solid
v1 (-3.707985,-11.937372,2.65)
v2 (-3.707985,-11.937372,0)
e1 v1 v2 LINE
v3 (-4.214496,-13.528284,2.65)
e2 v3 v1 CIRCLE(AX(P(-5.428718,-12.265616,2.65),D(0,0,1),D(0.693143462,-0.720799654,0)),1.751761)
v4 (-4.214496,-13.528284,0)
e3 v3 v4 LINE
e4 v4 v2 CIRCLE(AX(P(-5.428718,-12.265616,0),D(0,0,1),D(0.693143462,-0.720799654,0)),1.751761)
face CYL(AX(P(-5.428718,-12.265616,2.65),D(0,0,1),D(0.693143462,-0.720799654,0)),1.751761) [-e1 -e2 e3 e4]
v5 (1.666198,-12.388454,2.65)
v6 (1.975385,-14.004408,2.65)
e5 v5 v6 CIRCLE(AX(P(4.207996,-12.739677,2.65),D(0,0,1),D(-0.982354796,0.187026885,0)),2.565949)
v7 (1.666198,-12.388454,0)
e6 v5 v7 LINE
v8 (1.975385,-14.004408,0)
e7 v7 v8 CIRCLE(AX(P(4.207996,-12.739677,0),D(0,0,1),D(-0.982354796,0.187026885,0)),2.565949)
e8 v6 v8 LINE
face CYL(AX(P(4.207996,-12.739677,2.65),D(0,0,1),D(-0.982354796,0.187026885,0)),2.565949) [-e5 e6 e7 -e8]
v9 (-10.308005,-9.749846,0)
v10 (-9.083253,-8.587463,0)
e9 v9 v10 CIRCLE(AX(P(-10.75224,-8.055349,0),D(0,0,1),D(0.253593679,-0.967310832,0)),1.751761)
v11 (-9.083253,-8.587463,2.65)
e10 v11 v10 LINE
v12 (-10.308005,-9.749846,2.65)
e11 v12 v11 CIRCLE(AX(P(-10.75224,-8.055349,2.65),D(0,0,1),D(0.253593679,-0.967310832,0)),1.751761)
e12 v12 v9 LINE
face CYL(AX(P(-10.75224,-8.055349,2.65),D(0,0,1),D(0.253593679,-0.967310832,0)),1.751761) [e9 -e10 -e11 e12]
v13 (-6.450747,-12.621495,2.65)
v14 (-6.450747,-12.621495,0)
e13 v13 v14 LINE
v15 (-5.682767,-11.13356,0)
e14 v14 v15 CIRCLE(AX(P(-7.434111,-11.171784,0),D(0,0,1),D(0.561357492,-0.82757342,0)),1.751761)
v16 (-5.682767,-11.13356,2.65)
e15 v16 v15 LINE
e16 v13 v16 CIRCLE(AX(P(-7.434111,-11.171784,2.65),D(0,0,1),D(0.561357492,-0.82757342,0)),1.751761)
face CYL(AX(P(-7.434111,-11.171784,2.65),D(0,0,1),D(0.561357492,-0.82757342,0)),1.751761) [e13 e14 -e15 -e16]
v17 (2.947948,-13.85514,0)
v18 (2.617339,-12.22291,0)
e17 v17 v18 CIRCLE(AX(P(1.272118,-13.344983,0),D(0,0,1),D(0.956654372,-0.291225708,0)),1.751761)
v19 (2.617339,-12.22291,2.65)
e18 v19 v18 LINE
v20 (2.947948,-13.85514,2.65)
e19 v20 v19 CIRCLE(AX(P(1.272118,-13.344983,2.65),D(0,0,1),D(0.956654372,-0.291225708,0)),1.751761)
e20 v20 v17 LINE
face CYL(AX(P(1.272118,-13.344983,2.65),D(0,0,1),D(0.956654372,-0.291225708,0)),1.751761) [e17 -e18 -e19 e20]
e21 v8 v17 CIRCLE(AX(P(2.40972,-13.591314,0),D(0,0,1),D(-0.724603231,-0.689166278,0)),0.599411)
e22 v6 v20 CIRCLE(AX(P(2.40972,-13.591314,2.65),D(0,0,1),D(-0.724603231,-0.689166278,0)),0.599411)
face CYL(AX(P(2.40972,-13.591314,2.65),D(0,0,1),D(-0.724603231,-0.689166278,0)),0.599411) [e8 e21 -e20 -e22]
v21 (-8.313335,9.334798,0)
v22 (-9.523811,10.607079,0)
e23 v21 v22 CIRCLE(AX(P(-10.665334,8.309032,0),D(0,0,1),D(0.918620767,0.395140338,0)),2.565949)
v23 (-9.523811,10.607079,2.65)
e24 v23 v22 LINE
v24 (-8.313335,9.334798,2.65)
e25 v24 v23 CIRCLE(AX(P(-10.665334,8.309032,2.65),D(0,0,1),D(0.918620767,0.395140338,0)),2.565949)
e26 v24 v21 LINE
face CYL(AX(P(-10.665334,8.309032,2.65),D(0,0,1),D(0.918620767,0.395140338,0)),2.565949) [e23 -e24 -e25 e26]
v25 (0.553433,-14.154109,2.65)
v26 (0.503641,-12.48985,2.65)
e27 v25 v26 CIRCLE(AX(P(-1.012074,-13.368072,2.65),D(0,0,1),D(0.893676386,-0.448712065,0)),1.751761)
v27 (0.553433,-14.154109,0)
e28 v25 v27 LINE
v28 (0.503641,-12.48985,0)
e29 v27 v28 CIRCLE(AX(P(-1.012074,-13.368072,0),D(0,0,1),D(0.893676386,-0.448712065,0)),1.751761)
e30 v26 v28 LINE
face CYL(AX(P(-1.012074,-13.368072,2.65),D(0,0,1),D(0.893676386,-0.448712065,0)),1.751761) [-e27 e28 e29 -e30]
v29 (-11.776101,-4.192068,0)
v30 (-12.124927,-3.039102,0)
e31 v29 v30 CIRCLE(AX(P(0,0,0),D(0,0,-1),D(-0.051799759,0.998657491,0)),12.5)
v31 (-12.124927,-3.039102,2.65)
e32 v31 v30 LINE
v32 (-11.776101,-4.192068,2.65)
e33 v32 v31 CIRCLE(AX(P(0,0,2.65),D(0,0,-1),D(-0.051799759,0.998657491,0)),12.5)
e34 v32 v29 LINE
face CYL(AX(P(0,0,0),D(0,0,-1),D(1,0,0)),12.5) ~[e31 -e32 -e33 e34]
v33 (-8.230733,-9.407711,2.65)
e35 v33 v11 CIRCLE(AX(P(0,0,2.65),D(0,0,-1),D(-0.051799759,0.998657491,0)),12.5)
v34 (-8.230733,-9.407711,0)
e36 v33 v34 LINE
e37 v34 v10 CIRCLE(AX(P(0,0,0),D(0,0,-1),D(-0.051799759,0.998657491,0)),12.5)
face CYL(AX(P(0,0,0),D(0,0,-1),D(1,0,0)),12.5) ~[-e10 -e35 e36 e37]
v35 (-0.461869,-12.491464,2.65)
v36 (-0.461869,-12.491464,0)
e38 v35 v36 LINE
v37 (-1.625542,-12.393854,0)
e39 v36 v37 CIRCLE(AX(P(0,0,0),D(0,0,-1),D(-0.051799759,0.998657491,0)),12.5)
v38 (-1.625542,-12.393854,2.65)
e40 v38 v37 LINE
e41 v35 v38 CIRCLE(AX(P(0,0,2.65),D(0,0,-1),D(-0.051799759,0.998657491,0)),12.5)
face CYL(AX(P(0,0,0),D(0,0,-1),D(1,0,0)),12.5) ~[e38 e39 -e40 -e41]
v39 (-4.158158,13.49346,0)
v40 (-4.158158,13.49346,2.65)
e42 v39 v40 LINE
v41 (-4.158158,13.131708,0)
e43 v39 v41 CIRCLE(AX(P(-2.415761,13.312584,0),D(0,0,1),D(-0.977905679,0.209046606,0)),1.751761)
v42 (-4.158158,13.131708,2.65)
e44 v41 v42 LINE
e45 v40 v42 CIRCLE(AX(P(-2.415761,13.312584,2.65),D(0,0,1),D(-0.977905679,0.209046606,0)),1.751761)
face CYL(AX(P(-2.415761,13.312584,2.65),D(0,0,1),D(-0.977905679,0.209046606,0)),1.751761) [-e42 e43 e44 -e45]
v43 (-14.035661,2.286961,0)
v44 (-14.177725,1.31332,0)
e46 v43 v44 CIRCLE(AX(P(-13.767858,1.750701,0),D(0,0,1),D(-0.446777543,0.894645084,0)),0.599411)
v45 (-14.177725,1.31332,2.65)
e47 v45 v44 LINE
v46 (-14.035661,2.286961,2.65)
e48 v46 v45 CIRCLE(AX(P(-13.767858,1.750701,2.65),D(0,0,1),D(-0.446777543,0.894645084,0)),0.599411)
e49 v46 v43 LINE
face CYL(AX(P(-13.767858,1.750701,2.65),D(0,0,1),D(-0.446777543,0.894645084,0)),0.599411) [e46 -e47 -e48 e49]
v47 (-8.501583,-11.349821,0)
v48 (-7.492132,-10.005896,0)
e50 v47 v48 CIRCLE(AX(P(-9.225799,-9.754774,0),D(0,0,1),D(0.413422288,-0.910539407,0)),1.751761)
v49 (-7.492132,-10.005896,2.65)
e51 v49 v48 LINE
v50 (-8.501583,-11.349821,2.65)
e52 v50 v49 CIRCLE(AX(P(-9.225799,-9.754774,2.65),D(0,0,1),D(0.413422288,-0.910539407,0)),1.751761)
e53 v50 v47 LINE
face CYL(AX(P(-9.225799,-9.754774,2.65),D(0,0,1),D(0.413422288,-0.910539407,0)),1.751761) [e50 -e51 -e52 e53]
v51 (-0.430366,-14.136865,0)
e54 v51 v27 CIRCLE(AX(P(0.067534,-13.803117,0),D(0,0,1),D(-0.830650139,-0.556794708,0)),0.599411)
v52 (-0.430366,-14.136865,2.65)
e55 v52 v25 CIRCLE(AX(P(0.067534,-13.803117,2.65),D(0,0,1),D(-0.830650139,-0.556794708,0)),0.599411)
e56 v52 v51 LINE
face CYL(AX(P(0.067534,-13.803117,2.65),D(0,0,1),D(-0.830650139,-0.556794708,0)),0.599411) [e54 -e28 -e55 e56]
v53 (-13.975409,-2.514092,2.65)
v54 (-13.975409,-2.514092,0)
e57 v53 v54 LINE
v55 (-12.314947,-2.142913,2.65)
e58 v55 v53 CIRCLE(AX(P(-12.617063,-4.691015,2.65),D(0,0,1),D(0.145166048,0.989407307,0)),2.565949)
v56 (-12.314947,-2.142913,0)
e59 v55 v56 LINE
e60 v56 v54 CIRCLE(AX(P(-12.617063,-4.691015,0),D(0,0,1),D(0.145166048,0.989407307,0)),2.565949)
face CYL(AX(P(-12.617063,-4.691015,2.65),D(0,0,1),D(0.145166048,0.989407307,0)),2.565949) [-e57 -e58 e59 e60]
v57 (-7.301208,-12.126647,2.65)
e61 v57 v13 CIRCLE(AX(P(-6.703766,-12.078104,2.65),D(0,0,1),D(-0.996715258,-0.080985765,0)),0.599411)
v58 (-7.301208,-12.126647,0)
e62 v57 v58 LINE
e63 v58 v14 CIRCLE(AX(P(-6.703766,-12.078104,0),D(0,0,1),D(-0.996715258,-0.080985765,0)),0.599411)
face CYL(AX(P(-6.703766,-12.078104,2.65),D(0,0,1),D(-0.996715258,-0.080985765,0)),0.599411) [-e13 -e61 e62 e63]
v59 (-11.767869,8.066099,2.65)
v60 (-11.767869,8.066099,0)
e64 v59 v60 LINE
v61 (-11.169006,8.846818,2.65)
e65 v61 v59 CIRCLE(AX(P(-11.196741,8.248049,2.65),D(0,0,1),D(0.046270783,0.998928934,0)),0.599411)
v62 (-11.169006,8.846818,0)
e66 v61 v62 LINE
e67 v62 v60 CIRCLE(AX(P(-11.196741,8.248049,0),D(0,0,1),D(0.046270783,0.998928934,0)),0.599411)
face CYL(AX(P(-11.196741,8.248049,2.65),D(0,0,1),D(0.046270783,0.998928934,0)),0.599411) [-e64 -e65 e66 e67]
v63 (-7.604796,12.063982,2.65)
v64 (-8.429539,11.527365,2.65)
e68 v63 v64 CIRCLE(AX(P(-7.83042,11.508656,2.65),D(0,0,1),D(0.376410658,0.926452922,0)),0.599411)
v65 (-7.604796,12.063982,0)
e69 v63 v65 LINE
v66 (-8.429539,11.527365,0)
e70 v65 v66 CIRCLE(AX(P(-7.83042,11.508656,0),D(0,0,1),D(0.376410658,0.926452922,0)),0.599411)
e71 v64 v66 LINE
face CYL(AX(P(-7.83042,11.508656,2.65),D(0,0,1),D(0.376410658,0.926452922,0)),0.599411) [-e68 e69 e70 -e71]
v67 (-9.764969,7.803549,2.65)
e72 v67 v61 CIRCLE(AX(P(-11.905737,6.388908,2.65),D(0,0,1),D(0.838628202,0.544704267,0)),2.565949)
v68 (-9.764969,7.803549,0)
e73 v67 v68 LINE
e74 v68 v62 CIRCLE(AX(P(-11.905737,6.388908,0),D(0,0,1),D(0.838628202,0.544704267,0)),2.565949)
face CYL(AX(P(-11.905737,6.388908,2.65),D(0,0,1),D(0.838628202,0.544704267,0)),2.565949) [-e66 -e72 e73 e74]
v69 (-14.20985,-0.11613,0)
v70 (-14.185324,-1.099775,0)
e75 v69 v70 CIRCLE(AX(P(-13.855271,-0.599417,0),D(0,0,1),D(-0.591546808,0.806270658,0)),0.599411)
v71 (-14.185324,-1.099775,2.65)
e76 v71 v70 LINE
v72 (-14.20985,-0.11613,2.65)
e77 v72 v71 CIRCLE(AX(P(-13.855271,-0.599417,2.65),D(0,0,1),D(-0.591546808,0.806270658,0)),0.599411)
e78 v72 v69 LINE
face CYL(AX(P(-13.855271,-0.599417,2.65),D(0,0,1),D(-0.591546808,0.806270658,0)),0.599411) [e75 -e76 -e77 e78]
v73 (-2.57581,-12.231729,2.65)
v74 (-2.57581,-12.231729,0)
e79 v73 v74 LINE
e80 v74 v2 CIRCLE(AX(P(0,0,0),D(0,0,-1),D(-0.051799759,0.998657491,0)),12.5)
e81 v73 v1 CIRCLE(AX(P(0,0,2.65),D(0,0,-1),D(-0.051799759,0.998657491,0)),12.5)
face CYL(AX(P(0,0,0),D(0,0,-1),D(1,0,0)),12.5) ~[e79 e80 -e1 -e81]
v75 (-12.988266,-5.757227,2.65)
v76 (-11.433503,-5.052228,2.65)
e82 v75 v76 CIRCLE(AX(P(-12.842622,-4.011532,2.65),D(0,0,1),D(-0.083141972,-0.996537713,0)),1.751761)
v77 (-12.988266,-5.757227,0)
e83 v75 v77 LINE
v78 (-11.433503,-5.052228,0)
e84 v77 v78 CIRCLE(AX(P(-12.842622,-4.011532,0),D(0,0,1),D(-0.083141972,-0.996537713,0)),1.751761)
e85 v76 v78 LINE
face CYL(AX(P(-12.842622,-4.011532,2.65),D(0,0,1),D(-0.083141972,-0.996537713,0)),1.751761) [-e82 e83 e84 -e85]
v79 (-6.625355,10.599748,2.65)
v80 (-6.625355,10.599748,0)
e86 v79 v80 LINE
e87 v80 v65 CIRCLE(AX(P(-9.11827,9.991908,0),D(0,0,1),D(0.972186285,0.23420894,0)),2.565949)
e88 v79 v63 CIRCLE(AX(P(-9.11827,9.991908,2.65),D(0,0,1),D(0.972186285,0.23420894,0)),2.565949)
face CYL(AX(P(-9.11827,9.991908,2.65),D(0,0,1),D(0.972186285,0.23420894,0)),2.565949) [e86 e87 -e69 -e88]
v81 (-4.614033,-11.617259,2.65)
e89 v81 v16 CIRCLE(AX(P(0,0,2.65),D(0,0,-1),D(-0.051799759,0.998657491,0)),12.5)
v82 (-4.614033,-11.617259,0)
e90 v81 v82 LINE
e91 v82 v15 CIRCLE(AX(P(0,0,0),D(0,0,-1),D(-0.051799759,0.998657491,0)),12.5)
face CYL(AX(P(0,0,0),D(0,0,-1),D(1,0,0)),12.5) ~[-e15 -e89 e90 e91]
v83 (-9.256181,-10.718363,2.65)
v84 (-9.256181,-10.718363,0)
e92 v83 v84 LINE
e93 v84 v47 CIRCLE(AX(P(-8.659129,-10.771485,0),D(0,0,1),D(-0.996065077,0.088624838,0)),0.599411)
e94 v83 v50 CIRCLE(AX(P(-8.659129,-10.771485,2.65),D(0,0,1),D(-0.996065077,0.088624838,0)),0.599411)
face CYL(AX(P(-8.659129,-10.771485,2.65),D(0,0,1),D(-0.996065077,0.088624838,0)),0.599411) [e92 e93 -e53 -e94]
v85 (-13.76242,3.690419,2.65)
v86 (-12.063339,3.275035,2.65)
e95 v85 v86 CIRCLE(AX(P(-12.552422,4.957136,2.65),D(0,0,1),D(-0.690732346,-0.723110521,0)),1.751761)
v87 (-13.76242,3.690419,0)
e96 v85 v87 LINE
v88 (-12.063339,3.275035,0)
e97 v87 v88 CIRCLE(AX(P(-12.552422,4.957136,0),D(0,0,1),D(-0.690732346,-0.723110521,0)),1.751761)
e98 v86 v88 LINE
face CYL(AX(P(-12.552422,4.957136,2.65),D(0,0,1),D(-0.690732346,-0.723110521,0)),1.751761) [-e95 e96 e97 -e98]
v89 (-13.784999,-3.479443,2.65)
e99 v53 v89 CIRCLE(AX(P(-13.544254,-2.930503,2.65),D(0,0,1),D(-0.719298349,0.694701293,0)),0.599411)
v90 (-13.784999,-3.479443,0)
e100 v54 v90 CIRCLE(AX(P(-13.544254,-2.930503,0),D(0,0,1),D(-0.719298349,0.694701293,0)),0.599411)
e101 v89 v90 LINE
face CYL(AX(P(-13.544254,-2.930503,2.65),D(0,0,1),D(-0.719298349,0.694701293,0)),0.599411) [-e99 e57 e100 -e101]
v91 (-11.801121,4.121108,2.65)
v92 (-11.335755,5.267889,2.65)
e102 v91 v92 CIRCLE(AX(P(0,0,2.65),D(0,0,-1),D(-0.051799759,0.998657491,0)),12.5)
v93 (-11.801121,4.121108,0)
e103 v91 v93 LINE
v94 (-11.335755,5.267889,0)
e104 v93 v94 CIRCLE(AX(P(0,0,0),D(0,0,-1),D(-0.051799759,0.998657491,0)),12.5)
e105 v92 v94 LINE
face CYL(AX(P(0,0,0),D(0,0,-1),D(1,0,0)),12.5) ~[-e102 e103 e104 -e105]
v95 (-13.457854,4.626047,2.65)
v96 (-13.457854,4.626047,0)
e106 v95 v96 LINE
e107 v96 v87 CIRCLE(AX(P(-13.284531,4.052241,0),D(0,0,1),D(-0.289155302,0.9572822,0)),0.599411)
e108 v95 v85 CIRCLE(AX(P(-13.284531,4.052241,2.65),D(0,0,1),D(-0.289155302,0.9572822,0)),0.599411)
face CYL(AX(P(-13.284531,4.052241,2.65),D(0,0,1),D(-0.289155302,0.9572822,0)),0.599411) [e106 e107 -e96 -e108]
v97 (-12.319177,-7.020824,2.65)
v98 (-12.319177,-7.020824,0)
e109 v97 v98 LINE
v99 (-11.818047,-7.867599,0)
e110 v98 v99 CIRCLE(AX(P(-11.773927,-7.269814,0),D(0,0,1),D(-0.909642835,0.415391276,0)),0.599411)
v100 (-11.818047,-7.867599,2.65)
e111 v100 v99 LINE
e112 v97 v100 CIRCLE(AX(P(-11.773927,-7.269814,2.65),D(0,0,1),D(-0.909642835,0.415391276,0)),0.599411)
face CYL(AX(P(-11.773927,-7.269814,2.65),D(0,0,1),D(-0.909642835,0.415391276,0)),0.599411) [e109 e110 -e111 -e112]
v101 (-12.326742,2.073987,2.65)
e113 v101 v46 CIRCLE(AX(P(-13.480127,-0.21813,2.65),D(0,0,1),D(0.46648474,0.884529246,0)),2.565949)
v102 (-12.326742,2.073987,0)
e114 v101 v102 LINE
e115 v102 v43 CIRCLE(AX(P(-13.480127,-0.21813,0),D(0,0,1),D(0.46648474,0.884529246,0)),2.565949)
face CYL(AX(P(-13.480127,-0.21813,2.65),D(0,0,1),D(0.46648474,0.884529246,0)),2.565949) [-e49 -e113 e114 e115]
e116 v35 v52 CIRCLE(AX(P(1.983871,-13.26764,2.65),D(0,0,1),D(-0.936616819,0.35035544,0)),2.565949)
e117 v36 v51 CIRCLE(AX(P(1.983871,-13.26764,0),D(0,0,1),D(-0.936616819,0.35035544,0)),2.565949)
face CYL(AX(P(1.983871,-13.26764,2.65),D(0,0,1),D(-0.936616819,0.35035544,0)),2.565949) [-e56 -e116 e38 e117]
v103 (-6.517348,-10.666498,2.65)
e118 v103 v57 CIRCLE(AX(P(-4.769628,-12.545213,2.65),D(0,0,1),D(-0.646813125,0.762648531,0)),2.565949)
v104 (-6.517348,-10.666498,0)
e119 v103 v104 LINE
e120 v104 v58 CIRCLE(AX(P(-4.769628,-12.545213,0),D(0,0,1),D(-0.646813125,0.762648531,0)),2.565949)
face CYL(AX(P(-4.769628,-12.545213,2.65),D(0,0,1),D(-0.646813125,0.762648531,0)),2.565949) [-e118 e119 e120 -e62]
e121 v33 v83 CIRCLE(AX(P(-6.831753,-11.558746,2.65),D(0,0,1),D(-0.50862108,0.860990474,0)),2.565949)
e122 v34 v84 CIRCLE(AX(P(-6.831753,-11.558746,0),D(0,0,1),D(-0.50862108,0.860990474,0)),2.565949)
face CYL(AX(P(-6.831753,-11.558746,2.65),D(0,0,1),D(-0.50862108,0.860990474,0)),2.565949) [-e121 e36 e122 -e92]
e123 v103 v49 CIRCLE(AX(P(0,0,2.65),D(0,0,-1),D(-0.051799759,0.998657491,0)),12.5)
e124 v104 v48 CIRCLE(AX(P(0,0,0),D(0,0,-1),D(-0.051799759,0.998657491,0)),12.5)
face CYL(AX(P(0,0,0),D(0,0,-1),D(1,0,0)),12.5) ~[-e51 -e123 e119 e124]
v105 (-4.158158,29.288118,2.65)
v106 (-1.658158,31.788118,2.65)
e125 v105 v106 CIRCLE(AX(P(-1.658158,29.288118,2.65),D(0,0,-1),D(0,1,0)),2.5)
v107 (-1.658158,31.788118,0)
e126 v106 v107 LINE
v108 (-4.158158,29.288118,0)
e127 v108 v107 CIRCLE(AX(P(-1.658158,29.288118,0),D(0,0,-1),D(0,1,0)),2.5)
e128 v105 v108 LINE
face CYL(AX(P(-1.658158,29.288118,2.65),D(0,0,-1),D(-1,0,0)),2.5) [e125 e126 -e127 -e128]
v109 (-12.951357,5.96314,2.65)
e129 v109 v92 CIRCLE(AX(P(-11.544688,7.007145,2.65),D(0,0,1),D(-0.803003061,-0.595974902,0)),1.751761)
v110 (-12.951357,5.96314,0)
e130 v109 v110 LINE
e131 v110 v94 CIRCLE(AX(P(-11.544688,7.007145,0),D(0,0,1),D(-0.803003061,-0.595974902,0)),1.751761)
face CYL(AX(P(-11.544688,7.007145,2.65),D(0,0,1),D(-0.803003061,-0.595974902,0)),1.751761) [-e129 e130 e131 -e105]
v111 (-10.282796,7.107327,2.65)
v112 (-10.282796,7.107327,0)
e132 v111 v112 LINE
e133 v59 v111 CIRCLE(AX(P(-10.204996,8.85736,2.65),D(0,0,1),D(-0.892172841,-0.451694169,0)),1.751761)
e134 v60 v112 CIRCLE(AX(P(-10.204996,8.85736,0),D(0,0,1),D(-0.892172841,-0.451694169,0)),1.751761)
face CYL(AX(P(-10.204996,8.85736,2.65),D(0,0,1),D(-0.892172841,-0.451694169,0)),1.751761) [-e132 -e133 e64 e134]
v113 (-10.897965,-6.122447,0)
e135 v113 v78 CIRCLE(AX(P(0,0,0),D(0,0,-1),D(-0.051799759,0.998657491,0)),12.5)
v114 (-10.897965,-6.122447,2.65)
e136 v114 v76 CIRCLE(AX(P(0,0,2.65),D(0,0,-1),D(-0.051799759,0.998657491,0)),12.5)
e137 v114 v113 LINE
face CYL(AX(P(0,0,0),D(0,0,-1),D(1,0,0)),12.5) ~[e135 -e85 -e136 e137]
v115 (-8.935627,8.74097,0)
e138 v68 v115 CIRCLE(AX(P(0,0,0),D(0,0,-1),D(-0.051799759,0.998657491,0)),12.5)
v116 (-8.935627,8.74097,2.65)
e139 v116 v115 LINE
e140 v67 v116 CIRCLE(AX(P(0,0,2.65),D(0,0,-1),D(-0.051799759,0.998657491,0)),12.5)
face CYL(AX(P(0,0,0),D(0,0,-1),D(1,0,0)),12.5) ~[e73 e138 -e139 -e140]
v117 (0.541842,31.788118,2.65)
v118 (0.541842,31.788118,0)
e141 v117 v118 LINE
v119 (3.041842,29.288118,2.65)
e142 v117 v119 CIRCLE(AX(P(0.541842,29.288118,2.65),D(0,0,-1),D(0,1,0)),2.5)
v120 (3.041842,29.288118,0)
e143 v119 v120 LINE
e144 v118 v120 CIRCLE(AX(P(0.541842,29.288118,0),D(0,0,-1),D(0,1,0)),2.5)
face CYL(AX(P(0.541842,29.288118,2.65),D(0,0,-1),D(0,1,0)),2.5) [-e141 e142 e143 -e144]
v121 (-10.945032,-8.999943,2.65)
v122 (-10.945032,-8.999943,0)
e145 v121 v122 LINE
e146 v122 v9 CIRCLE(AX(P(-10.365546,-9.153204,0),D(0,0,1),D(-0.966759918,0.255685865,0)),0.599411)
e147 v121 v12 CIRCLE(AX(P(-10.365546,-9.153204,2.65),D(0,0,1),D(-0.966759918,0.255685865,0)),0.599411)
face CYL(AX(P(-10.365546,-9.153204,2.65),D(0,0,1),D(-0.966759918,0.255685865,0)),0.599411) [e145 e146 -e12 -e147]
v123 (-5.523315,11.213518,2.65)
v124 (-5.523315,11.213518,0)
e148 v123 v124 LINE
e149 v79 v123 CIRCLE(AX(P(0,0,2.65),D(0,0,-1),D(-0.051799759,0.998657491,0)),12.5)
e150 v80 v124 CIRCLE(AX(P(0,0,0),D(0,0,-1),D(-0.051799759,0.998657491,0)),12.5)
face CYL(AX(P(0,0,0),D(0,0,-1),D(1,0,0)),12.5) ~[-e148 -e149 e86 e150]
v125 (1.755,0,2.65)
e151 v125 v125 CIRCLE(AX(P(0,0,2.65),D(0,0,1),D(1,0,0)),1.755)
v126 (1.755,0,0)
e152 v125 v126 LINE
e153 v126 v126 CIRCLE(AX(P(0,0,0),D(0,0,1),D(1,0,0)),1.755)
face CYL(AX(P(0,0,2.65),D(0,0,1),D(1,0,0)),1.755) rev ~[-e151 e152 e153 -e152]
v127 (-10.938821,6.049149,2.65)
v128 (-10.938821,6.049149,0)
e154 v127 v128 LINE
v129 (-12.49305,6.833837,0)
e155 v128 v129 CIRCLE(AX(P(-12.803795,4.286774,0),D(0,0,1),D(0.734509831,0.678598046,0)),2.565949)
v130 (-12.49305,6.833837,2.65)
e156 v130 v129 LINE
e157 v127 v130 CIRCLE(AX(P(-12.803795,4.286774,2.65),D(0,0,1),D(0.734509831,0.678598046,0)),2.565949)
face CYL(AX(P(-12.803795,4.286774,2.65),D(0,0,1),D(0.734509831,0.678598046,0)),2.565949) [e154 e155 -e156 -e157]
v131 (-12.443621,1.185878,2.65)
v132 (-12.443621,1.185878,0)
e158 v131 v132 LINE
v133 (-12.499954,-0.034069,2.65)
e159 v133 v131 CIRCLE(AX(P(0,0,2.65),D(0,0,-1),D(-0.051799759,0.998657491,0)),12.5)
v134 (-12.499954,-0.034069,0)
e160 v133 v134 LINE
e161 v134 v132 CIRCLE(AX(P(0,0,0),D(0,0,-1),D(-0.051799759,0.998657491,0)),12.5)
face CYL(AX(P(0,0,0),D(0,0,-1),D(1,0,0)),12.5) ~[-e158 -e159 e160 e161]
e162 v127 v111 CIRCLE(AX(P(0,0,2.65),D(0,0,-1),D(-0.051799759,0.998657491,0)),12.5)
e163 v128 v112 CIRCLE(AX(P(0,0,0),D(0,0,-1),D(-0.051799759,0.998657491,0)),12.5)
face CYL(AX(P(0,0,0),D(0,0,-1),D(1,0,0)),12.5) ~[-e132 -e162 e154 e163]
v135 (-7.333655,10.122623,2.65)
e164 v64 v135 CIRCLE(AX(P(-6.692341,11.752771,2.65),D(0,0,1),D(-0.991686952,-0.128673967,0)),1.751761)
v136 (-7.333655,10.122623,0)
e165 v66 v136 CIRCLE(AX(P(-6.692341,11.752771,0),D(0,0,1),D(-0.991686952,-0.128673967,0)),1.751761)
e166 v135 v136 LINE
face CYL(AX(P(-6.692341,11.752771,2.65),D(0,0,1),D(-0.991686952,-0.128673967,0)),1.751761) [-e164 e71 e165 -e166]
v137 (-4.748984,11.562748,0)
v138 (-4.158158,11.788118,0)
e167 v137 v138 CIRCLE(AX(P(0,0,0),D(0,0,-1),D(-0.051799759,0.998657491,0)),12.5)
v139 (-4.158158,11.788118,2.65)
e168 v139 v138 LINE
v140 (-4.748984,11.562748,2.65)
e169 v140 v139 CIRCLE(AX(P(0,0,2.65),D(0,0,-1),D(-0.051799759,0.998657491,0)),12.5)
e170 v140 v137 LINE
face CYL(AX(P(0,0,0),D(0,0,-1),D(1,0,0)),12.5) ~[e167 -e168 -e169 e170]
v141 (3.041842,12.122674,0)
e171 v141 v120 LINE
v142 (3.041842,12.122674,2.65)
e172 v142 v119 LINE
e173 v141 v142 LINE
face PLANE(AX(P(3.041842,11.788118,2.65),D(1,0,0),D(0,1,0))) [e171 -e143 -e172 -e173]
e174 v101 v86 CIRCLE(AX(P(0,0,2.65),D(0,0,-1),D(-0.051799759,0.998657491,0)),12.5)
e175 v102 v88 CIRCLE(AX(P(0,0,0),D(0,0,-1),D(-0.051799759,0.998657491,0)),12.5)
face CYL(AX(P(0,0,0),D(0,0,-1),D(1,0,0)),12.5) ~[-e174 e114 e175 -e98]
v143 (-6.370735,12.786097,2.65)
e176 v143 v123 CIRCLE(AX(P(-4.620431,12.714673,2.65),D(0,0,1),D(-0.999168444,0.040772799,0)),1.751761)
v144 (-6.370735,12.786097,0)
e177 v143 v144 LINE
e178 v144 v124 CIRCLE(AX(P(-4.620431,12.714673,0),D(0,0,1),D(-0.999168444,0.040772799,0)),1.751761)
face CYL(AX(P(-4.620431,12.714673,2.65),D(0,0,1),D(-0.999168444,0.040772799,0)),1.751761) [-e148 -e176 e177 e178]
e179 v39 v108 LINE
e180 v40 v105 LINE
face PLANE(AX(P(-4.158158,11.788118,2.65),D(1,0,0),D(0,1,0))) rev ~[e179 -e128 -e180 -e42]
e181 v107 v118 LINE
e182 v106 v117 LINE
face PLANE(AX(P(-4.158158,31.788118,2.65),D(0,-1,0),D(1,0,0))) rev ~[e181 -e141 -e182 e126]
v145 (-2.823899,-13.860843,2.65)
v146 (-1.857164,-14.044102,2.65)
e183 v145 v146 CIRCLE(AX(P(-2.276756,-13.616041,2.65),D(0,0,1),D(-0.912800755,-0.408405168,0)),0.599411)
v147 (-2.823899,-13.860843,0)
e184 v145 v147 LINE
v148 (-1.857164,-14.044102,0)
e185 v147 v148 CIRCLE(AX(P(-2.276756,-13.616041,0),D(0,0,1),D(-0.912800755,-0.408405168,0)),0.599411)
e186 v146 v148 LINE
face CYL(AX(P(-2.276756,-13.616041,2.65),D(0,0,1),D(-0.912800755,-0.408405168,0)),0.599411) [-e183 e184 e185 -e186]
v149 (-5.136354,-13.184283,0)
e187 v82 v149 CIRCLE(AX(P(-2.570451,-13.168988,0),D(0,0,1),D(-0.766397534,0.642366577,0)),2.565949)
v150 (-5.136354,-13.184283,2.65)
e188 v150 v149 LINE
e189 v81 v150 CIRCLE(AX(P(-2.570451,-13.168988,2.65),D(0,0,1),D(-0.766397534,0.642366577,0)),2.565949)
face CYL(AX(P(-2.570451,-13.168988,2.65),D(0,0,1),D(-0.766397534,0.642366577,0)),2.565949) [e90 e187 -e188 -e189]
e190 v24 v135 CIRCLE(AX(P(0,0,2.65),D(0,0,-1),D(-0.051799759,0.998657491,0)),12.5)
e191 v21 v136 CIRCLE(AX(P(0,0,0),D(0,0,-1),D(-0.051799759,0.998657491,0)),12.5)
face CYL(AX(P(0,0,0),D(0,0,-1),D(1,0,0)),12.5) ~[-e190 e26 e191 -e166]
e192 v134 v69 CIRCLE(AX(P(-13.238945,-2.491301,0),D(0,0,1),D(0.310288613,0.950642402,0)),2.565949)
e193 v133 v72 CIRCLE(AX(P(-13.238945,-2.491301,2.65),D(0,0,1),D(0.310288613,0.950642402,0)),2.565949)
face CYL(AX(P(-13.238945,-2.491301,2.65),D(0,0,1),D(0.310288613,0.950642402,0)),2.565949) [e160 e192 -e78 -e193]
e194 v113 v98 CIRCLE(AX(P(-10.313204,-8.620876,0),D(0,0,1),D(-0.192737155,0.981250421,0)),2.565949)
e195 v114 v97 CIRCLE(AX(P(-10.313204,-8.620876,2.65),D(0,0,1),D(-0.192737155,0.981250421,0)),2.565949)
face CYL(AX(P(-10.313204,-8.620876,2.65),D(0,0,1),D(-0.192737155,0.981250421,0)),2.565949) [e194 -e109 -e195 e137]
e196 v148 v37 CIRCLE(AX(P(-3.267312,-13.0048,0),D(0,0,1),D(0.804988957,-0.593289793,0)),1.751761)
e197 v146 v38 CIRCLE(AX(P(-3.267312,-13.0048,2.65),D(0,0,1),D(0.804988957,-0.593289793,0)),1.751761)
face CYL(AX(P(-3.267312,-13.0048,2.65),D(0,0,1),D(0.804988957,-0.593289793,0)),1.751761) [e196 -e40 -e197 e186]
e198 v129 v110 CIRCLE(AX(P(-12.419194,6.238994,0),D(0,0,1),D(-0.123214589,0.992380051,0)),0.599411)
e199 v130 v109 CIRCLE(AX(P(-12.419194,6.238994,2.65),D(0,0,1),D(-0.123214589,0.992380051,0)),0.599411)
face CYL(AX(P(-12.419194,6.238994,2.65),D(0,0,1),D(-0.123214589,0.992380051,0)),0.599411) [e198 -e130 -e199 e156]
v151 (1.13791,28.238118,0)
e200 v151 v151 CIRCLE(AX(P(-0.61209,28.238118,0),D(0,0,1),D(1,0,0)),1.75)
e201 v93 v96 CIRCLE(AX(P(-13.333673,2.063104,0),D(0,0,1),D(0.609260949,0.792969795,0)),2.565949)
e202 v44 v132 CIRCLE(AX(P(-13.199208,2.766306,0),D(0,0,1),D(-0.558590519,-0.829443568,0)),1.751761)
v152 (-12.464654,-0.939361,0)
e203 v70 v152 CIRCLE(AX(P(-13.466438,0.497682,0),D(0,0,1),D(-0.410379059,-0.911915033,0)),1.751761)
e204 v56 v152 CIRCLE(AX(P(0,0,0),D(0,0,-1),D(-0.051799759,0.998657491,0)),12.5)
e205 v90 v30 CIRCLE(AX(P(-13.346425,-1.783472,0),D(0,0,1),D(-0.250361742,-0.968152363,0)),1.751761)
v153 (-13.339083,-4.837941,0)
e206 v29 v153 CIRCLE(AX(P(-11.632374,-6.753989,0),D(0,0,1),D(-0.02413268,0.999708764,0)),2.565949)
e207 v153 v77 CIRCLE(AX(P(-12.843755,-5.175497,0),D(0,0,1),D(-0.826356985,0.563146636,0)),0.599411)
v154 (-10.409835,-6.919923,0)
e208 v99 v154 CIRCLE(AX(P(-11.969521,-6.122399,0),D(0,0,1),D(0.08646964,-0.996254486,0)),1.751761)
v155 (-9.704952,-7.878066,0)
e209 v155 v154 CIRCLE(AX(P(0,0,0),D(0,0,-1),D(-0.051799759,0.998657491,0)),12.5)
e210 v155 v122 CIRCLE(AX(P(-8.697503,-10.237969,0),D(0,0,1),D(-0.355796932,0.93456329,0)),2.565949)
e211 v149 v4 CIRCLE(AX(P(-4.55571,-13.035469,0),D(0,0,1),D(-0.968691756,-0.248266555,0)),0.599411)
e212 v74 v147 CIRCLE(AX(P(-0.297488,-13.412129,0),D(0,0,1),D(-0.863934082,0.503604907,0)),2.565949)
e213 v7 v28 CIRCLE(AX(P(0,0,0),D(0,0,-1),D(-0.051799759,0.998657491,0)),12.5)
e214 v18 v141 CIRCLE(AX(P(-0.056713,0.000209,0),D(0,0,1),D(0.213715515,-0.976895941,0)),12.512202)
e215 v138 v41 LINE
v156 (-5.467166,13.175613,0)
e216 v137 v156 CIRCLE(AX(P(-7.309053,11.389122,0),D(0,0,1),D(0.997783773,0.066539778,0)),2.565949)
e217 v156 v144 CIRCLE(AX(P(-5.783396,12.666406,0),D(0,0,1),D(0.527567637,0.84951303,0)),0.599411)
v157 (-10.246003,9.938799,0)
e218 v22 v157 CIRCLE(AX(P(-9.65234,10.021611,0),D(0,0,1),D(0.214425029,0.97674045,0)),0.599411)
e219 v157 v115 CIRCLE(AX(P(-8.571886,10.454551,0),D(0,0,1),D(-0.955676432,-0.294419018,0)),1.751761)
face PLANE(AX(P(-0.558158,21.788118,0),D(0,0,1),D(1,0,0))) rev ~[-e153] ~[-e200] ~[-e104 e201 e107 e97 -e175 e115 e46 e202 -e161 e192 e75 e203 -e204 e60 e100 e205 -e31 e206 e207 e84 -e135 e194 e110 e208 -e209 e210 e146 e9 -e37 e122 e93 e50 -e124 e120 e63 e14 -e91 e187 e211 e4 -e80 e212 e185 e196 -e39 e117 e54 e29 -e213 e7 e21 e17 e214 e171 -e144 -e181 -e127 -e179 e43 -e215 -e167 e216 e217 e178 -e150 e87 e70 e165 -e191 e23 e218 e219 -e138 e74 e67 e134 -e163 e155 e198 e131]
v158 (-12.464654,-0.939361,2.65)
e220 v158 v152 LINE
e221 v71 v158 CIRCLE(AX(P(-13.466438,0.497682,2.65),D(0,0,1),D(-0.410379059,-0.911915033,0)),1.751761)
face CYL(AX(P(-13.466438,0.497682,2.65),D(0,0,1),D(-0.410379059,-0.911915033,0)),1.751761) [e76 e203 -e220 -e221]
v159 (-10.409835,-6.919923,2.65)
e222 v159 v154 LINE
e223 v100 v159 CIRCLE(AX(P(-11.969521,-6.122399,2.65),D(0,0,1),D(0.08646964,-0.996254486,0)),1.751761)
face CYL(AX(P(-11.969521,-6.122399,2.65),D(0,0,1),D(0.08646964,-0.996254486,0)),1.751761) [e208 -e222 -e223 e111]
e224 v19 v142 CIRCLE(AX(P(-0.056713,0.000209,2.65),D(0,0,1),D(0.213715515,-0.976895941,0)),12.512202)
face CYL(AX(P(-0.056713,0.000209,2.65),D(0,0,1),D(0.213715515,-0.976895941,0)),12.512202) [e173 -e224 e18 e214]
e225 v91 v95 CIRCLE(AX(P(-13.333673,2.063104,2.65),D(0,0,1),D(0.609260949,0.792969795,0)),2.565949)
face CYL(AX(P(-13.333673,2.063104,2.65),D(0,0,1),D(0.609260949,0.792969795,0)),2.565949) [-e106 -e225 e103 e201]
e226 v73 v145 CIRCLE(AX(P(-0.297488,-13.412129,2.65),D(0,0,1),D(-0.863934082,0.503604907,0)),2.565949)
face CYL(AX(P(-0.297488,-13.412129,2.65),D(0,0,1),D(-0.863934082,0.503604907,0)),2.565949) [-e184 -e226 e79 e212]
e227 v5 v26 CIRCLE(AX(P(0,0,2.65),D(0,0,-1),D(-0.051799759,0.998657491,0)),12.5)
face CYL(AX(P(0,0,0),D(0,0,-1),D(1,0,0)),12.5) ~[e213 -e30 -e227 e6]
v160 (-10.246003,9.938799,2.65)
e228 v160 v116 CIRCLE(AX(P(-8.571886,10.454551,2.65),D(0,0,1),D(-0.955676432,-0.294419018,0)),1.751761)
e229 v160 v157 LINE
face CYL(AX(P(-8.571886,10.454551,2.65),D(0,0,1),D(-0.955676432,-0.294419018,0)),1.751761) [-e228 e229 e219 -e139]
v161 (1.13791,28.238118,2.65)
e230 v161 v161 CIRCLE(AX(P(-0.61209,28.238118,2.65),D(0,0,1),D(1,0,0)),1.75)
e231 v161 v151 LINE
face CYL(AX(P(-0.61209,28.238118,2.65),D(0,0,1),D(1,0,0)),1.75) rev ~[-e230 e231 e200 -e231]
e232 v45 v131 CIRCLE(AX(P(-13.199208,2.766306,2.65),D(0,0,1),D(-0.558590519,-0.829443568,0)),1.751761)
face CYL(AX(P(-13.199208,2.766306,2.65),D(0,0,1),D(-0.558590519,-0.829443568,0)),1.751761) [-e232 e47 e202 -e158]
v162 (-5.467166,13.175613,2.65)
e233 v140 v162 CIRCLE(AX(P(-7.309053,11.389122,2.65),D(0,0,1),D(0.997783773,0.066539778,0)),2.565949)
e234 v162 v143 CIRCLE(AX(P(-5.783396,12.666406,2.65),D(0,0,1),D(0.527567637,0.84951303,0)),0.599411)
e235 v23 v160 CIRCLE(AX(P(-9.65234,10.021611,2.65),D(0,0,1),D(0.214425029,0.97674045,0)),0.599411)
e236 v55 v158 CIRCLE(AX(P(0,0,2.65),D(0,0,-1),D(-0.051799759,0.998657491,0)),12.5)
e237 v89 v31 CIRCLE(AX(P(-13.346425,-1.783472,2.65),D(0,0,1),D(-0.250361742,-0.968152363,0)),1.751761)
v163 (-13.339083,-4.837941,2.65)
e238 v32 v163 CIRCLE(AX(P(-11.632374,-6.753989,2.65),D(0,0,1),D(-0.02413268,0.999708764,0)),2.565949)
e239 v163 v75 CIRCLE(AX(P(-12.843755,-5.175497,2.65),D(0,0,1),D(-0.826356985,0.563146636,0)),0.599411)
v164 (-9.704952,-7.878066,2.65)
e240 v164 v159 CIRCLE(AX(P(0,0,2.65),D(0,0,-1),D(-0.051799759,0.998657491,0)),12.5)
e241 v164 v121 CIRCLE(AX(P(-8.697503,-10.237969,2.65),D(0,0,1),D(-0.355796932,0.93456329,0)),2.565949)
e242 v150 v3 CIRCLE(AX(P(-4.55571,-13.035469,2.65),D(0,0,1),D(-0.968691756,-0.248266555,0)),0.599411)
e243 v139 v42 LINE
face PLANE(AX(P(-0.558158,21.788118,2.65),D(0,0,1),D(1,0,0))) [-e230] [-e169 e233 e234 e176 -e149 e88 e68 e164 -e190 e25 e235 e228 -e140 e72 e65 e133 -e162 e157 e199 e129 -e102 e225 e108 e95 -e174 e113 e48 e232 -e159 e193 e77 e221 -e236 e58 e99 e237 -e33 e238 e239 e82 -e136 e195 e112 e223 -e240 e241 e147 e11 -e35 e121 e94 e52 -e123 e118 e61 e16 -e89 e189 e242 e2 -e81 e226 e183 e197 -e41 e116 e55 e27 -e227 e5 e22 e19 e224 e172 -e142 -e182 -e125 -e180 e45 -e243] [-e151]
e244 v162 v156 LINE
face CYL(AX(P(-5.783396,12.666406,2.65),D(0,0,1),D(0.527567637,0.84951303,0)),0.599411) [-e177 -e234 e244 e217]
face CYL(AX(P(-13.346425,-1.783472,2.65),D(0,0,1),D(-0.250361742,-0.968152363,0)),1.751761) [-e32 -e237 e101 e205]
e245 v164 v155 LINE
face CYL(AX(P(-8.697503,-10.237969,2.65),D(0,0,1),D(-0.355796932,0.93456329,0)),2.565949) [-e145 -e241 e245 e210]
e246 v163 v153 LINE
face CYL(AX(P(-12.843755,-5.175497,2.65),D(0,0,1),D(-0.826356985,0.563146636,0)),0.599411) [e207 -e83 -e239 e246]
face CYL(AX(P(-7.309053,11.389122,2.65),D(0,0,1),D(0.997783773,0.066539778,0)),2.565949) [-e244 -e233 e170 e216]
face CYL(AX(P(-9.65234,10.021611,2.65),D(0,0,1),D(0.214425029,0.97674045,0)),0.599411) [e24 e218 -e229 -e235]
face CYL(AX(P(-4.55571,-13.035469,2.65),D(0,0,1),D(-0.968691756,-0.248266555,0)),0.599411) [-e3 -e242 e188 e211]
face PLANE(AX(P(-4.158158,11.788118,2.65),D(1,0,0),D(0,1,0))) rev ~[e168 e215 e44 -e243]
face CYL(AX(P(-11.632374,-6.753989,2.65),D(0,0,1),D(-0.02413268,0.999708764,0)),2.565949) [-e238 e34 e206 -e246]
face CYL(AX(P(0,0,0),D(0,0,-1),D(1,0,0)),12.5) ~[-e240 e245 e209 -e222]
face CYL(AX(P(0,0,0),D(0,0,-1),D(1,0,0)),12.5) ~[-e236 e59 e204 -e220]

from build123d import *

# Parameters (mm, degrees)
SKETCH1_R           = 12.5
BOSS_EXTRUDE1_DEPTH = 2.65
BOSS_EXTRUDE2_DEPTH = 2.65
CIRPATTERN1_COUNT   = 37
CUT_EXTRUDE1_DEPTH  = 6
SKETCH5_W           = 7.2
SKETCH5_H           = 20
BOSS_EXTRUDE3_DEPTH = 2.65
FILLET1_R           = 2.5
SKETCH6_R           = 1.755
CUT_EXTRUDE2_DEPTH  = 36.020633077
SKETCH7_R           = 1.75
CUT_EXTRUDE3_DEPTH  = 36.020633077


with BuildPart() as part:
    # Sketch1 → Boss-Extrude1 (new body)
    with BuildSketch(Plane.XY):
        Circle(SKETCH1_R)
    extrude(amount=BOSS_EXTRUDE1_DEPTH)

    # Sketch2 → Boss-Extrude2 (add)
    with BuildSketch(Plane.XY.offset(2.65)):
        with BuildLine():
            Line((-1.490008762, 12.410877241), (-0.647496991, 12.483218641))
            ThreePointArc((-0.647496991, 12.483218641), (-0.560389102, 13.376964625), (-0.786565642, 14.245995027))
            ThreePointArc((-0.786565642, 14.245995027), (-1.294727869, 14.469274157), (-1.768283344, 14.179744139))
            ThreePointArc((-1.768283344, 14.179744139), (-1.872233227, 13.257068705), (-1.490008762, 12.410877241))
        make_face()
    boss_extrude2 = extrude(amount=-BOSS_EXTRUDE2_DEPTH)

    # CirPattern1: Boss-Extrude2 ×37 about axis
    cirpattern1_axis = Axis((-0.005621408, 0.062130421, 0), (0, 0, 1))
    for i in range(1, CIRPATTERN1_COUNT):
        add(boss_extrude2.rotate(cirpattern1_axis, i * 360 / CIRPATTERN1_COUNT))

    # Sketch3 → Cut-Extrude1 (cut)
    with BuildSketch(Plane.XY.offset(2.65)):
        with BuildLine():
            ThreePointArc((2.617339204, -12.222910271), (12.455404486, -0.045944124), (2.707439802, 12.203268813))
            ThreePointArc((2.707439802, 12.203268813), (2.478611131, 13.53676799), (3.259731136, 14.641500607))
            ThreePointArc((3.259731136, 14.641500607), (14.955387478, -0.055165786), (3.151627992, -14.665150122))
            ThreePointArc((3.151627992, -14.665150122), (3.390288032, -13.333375366), (2.617339204, -12.222910271))
        make_face()
    extrude(amount=-CUT_EXTRUDE1_DEPTH, mode=Mode.SUBTRACT)

    # Sketch5 → Boss-Extrude3 (add)
    with BuildSketch(Plane.XY.offset(2.65)):
        with Locations((-0.55815824, 21.788117748)):
            Rectangle(SKETCH5_W, SKETCH5_H)
    extrude(amount=-BOSS_EXTRUDE3_DEPTH)

    # Fillet1
    fillet1_edges = [part.edges().sort_by_distance(p)[0] for p in [
        (3.04184176, 31.788117748, 1.325),
        (-4.15815824, 31.788117748, 1.325),
    ]]
    fillet(fillet1_edges, radius=FILLET1_R)

    # Sketch6 → Cut-Extrude2 (cut, through all)
    with BuildSketch(Plane.XY.offset(2.65)):
        Circle(SKETCH6_R)
    extrude(amount=-CUT_EXTRUDE2_DEPTH, mode=Mode.SUBTRACT)

    # Sketch7 → Cut-Extrude3 (cut, through all)
    with BuildSketch(Plane.XY.offset(2.65)):
        with Locations((-0.612089544, 28.238117748)):
            Circle(SKETCH7_R)
    extrude(amount=-CUT_EXTRUDE3_DEPTH, mode=Mode.SUBTRACT)


solid = part.part
